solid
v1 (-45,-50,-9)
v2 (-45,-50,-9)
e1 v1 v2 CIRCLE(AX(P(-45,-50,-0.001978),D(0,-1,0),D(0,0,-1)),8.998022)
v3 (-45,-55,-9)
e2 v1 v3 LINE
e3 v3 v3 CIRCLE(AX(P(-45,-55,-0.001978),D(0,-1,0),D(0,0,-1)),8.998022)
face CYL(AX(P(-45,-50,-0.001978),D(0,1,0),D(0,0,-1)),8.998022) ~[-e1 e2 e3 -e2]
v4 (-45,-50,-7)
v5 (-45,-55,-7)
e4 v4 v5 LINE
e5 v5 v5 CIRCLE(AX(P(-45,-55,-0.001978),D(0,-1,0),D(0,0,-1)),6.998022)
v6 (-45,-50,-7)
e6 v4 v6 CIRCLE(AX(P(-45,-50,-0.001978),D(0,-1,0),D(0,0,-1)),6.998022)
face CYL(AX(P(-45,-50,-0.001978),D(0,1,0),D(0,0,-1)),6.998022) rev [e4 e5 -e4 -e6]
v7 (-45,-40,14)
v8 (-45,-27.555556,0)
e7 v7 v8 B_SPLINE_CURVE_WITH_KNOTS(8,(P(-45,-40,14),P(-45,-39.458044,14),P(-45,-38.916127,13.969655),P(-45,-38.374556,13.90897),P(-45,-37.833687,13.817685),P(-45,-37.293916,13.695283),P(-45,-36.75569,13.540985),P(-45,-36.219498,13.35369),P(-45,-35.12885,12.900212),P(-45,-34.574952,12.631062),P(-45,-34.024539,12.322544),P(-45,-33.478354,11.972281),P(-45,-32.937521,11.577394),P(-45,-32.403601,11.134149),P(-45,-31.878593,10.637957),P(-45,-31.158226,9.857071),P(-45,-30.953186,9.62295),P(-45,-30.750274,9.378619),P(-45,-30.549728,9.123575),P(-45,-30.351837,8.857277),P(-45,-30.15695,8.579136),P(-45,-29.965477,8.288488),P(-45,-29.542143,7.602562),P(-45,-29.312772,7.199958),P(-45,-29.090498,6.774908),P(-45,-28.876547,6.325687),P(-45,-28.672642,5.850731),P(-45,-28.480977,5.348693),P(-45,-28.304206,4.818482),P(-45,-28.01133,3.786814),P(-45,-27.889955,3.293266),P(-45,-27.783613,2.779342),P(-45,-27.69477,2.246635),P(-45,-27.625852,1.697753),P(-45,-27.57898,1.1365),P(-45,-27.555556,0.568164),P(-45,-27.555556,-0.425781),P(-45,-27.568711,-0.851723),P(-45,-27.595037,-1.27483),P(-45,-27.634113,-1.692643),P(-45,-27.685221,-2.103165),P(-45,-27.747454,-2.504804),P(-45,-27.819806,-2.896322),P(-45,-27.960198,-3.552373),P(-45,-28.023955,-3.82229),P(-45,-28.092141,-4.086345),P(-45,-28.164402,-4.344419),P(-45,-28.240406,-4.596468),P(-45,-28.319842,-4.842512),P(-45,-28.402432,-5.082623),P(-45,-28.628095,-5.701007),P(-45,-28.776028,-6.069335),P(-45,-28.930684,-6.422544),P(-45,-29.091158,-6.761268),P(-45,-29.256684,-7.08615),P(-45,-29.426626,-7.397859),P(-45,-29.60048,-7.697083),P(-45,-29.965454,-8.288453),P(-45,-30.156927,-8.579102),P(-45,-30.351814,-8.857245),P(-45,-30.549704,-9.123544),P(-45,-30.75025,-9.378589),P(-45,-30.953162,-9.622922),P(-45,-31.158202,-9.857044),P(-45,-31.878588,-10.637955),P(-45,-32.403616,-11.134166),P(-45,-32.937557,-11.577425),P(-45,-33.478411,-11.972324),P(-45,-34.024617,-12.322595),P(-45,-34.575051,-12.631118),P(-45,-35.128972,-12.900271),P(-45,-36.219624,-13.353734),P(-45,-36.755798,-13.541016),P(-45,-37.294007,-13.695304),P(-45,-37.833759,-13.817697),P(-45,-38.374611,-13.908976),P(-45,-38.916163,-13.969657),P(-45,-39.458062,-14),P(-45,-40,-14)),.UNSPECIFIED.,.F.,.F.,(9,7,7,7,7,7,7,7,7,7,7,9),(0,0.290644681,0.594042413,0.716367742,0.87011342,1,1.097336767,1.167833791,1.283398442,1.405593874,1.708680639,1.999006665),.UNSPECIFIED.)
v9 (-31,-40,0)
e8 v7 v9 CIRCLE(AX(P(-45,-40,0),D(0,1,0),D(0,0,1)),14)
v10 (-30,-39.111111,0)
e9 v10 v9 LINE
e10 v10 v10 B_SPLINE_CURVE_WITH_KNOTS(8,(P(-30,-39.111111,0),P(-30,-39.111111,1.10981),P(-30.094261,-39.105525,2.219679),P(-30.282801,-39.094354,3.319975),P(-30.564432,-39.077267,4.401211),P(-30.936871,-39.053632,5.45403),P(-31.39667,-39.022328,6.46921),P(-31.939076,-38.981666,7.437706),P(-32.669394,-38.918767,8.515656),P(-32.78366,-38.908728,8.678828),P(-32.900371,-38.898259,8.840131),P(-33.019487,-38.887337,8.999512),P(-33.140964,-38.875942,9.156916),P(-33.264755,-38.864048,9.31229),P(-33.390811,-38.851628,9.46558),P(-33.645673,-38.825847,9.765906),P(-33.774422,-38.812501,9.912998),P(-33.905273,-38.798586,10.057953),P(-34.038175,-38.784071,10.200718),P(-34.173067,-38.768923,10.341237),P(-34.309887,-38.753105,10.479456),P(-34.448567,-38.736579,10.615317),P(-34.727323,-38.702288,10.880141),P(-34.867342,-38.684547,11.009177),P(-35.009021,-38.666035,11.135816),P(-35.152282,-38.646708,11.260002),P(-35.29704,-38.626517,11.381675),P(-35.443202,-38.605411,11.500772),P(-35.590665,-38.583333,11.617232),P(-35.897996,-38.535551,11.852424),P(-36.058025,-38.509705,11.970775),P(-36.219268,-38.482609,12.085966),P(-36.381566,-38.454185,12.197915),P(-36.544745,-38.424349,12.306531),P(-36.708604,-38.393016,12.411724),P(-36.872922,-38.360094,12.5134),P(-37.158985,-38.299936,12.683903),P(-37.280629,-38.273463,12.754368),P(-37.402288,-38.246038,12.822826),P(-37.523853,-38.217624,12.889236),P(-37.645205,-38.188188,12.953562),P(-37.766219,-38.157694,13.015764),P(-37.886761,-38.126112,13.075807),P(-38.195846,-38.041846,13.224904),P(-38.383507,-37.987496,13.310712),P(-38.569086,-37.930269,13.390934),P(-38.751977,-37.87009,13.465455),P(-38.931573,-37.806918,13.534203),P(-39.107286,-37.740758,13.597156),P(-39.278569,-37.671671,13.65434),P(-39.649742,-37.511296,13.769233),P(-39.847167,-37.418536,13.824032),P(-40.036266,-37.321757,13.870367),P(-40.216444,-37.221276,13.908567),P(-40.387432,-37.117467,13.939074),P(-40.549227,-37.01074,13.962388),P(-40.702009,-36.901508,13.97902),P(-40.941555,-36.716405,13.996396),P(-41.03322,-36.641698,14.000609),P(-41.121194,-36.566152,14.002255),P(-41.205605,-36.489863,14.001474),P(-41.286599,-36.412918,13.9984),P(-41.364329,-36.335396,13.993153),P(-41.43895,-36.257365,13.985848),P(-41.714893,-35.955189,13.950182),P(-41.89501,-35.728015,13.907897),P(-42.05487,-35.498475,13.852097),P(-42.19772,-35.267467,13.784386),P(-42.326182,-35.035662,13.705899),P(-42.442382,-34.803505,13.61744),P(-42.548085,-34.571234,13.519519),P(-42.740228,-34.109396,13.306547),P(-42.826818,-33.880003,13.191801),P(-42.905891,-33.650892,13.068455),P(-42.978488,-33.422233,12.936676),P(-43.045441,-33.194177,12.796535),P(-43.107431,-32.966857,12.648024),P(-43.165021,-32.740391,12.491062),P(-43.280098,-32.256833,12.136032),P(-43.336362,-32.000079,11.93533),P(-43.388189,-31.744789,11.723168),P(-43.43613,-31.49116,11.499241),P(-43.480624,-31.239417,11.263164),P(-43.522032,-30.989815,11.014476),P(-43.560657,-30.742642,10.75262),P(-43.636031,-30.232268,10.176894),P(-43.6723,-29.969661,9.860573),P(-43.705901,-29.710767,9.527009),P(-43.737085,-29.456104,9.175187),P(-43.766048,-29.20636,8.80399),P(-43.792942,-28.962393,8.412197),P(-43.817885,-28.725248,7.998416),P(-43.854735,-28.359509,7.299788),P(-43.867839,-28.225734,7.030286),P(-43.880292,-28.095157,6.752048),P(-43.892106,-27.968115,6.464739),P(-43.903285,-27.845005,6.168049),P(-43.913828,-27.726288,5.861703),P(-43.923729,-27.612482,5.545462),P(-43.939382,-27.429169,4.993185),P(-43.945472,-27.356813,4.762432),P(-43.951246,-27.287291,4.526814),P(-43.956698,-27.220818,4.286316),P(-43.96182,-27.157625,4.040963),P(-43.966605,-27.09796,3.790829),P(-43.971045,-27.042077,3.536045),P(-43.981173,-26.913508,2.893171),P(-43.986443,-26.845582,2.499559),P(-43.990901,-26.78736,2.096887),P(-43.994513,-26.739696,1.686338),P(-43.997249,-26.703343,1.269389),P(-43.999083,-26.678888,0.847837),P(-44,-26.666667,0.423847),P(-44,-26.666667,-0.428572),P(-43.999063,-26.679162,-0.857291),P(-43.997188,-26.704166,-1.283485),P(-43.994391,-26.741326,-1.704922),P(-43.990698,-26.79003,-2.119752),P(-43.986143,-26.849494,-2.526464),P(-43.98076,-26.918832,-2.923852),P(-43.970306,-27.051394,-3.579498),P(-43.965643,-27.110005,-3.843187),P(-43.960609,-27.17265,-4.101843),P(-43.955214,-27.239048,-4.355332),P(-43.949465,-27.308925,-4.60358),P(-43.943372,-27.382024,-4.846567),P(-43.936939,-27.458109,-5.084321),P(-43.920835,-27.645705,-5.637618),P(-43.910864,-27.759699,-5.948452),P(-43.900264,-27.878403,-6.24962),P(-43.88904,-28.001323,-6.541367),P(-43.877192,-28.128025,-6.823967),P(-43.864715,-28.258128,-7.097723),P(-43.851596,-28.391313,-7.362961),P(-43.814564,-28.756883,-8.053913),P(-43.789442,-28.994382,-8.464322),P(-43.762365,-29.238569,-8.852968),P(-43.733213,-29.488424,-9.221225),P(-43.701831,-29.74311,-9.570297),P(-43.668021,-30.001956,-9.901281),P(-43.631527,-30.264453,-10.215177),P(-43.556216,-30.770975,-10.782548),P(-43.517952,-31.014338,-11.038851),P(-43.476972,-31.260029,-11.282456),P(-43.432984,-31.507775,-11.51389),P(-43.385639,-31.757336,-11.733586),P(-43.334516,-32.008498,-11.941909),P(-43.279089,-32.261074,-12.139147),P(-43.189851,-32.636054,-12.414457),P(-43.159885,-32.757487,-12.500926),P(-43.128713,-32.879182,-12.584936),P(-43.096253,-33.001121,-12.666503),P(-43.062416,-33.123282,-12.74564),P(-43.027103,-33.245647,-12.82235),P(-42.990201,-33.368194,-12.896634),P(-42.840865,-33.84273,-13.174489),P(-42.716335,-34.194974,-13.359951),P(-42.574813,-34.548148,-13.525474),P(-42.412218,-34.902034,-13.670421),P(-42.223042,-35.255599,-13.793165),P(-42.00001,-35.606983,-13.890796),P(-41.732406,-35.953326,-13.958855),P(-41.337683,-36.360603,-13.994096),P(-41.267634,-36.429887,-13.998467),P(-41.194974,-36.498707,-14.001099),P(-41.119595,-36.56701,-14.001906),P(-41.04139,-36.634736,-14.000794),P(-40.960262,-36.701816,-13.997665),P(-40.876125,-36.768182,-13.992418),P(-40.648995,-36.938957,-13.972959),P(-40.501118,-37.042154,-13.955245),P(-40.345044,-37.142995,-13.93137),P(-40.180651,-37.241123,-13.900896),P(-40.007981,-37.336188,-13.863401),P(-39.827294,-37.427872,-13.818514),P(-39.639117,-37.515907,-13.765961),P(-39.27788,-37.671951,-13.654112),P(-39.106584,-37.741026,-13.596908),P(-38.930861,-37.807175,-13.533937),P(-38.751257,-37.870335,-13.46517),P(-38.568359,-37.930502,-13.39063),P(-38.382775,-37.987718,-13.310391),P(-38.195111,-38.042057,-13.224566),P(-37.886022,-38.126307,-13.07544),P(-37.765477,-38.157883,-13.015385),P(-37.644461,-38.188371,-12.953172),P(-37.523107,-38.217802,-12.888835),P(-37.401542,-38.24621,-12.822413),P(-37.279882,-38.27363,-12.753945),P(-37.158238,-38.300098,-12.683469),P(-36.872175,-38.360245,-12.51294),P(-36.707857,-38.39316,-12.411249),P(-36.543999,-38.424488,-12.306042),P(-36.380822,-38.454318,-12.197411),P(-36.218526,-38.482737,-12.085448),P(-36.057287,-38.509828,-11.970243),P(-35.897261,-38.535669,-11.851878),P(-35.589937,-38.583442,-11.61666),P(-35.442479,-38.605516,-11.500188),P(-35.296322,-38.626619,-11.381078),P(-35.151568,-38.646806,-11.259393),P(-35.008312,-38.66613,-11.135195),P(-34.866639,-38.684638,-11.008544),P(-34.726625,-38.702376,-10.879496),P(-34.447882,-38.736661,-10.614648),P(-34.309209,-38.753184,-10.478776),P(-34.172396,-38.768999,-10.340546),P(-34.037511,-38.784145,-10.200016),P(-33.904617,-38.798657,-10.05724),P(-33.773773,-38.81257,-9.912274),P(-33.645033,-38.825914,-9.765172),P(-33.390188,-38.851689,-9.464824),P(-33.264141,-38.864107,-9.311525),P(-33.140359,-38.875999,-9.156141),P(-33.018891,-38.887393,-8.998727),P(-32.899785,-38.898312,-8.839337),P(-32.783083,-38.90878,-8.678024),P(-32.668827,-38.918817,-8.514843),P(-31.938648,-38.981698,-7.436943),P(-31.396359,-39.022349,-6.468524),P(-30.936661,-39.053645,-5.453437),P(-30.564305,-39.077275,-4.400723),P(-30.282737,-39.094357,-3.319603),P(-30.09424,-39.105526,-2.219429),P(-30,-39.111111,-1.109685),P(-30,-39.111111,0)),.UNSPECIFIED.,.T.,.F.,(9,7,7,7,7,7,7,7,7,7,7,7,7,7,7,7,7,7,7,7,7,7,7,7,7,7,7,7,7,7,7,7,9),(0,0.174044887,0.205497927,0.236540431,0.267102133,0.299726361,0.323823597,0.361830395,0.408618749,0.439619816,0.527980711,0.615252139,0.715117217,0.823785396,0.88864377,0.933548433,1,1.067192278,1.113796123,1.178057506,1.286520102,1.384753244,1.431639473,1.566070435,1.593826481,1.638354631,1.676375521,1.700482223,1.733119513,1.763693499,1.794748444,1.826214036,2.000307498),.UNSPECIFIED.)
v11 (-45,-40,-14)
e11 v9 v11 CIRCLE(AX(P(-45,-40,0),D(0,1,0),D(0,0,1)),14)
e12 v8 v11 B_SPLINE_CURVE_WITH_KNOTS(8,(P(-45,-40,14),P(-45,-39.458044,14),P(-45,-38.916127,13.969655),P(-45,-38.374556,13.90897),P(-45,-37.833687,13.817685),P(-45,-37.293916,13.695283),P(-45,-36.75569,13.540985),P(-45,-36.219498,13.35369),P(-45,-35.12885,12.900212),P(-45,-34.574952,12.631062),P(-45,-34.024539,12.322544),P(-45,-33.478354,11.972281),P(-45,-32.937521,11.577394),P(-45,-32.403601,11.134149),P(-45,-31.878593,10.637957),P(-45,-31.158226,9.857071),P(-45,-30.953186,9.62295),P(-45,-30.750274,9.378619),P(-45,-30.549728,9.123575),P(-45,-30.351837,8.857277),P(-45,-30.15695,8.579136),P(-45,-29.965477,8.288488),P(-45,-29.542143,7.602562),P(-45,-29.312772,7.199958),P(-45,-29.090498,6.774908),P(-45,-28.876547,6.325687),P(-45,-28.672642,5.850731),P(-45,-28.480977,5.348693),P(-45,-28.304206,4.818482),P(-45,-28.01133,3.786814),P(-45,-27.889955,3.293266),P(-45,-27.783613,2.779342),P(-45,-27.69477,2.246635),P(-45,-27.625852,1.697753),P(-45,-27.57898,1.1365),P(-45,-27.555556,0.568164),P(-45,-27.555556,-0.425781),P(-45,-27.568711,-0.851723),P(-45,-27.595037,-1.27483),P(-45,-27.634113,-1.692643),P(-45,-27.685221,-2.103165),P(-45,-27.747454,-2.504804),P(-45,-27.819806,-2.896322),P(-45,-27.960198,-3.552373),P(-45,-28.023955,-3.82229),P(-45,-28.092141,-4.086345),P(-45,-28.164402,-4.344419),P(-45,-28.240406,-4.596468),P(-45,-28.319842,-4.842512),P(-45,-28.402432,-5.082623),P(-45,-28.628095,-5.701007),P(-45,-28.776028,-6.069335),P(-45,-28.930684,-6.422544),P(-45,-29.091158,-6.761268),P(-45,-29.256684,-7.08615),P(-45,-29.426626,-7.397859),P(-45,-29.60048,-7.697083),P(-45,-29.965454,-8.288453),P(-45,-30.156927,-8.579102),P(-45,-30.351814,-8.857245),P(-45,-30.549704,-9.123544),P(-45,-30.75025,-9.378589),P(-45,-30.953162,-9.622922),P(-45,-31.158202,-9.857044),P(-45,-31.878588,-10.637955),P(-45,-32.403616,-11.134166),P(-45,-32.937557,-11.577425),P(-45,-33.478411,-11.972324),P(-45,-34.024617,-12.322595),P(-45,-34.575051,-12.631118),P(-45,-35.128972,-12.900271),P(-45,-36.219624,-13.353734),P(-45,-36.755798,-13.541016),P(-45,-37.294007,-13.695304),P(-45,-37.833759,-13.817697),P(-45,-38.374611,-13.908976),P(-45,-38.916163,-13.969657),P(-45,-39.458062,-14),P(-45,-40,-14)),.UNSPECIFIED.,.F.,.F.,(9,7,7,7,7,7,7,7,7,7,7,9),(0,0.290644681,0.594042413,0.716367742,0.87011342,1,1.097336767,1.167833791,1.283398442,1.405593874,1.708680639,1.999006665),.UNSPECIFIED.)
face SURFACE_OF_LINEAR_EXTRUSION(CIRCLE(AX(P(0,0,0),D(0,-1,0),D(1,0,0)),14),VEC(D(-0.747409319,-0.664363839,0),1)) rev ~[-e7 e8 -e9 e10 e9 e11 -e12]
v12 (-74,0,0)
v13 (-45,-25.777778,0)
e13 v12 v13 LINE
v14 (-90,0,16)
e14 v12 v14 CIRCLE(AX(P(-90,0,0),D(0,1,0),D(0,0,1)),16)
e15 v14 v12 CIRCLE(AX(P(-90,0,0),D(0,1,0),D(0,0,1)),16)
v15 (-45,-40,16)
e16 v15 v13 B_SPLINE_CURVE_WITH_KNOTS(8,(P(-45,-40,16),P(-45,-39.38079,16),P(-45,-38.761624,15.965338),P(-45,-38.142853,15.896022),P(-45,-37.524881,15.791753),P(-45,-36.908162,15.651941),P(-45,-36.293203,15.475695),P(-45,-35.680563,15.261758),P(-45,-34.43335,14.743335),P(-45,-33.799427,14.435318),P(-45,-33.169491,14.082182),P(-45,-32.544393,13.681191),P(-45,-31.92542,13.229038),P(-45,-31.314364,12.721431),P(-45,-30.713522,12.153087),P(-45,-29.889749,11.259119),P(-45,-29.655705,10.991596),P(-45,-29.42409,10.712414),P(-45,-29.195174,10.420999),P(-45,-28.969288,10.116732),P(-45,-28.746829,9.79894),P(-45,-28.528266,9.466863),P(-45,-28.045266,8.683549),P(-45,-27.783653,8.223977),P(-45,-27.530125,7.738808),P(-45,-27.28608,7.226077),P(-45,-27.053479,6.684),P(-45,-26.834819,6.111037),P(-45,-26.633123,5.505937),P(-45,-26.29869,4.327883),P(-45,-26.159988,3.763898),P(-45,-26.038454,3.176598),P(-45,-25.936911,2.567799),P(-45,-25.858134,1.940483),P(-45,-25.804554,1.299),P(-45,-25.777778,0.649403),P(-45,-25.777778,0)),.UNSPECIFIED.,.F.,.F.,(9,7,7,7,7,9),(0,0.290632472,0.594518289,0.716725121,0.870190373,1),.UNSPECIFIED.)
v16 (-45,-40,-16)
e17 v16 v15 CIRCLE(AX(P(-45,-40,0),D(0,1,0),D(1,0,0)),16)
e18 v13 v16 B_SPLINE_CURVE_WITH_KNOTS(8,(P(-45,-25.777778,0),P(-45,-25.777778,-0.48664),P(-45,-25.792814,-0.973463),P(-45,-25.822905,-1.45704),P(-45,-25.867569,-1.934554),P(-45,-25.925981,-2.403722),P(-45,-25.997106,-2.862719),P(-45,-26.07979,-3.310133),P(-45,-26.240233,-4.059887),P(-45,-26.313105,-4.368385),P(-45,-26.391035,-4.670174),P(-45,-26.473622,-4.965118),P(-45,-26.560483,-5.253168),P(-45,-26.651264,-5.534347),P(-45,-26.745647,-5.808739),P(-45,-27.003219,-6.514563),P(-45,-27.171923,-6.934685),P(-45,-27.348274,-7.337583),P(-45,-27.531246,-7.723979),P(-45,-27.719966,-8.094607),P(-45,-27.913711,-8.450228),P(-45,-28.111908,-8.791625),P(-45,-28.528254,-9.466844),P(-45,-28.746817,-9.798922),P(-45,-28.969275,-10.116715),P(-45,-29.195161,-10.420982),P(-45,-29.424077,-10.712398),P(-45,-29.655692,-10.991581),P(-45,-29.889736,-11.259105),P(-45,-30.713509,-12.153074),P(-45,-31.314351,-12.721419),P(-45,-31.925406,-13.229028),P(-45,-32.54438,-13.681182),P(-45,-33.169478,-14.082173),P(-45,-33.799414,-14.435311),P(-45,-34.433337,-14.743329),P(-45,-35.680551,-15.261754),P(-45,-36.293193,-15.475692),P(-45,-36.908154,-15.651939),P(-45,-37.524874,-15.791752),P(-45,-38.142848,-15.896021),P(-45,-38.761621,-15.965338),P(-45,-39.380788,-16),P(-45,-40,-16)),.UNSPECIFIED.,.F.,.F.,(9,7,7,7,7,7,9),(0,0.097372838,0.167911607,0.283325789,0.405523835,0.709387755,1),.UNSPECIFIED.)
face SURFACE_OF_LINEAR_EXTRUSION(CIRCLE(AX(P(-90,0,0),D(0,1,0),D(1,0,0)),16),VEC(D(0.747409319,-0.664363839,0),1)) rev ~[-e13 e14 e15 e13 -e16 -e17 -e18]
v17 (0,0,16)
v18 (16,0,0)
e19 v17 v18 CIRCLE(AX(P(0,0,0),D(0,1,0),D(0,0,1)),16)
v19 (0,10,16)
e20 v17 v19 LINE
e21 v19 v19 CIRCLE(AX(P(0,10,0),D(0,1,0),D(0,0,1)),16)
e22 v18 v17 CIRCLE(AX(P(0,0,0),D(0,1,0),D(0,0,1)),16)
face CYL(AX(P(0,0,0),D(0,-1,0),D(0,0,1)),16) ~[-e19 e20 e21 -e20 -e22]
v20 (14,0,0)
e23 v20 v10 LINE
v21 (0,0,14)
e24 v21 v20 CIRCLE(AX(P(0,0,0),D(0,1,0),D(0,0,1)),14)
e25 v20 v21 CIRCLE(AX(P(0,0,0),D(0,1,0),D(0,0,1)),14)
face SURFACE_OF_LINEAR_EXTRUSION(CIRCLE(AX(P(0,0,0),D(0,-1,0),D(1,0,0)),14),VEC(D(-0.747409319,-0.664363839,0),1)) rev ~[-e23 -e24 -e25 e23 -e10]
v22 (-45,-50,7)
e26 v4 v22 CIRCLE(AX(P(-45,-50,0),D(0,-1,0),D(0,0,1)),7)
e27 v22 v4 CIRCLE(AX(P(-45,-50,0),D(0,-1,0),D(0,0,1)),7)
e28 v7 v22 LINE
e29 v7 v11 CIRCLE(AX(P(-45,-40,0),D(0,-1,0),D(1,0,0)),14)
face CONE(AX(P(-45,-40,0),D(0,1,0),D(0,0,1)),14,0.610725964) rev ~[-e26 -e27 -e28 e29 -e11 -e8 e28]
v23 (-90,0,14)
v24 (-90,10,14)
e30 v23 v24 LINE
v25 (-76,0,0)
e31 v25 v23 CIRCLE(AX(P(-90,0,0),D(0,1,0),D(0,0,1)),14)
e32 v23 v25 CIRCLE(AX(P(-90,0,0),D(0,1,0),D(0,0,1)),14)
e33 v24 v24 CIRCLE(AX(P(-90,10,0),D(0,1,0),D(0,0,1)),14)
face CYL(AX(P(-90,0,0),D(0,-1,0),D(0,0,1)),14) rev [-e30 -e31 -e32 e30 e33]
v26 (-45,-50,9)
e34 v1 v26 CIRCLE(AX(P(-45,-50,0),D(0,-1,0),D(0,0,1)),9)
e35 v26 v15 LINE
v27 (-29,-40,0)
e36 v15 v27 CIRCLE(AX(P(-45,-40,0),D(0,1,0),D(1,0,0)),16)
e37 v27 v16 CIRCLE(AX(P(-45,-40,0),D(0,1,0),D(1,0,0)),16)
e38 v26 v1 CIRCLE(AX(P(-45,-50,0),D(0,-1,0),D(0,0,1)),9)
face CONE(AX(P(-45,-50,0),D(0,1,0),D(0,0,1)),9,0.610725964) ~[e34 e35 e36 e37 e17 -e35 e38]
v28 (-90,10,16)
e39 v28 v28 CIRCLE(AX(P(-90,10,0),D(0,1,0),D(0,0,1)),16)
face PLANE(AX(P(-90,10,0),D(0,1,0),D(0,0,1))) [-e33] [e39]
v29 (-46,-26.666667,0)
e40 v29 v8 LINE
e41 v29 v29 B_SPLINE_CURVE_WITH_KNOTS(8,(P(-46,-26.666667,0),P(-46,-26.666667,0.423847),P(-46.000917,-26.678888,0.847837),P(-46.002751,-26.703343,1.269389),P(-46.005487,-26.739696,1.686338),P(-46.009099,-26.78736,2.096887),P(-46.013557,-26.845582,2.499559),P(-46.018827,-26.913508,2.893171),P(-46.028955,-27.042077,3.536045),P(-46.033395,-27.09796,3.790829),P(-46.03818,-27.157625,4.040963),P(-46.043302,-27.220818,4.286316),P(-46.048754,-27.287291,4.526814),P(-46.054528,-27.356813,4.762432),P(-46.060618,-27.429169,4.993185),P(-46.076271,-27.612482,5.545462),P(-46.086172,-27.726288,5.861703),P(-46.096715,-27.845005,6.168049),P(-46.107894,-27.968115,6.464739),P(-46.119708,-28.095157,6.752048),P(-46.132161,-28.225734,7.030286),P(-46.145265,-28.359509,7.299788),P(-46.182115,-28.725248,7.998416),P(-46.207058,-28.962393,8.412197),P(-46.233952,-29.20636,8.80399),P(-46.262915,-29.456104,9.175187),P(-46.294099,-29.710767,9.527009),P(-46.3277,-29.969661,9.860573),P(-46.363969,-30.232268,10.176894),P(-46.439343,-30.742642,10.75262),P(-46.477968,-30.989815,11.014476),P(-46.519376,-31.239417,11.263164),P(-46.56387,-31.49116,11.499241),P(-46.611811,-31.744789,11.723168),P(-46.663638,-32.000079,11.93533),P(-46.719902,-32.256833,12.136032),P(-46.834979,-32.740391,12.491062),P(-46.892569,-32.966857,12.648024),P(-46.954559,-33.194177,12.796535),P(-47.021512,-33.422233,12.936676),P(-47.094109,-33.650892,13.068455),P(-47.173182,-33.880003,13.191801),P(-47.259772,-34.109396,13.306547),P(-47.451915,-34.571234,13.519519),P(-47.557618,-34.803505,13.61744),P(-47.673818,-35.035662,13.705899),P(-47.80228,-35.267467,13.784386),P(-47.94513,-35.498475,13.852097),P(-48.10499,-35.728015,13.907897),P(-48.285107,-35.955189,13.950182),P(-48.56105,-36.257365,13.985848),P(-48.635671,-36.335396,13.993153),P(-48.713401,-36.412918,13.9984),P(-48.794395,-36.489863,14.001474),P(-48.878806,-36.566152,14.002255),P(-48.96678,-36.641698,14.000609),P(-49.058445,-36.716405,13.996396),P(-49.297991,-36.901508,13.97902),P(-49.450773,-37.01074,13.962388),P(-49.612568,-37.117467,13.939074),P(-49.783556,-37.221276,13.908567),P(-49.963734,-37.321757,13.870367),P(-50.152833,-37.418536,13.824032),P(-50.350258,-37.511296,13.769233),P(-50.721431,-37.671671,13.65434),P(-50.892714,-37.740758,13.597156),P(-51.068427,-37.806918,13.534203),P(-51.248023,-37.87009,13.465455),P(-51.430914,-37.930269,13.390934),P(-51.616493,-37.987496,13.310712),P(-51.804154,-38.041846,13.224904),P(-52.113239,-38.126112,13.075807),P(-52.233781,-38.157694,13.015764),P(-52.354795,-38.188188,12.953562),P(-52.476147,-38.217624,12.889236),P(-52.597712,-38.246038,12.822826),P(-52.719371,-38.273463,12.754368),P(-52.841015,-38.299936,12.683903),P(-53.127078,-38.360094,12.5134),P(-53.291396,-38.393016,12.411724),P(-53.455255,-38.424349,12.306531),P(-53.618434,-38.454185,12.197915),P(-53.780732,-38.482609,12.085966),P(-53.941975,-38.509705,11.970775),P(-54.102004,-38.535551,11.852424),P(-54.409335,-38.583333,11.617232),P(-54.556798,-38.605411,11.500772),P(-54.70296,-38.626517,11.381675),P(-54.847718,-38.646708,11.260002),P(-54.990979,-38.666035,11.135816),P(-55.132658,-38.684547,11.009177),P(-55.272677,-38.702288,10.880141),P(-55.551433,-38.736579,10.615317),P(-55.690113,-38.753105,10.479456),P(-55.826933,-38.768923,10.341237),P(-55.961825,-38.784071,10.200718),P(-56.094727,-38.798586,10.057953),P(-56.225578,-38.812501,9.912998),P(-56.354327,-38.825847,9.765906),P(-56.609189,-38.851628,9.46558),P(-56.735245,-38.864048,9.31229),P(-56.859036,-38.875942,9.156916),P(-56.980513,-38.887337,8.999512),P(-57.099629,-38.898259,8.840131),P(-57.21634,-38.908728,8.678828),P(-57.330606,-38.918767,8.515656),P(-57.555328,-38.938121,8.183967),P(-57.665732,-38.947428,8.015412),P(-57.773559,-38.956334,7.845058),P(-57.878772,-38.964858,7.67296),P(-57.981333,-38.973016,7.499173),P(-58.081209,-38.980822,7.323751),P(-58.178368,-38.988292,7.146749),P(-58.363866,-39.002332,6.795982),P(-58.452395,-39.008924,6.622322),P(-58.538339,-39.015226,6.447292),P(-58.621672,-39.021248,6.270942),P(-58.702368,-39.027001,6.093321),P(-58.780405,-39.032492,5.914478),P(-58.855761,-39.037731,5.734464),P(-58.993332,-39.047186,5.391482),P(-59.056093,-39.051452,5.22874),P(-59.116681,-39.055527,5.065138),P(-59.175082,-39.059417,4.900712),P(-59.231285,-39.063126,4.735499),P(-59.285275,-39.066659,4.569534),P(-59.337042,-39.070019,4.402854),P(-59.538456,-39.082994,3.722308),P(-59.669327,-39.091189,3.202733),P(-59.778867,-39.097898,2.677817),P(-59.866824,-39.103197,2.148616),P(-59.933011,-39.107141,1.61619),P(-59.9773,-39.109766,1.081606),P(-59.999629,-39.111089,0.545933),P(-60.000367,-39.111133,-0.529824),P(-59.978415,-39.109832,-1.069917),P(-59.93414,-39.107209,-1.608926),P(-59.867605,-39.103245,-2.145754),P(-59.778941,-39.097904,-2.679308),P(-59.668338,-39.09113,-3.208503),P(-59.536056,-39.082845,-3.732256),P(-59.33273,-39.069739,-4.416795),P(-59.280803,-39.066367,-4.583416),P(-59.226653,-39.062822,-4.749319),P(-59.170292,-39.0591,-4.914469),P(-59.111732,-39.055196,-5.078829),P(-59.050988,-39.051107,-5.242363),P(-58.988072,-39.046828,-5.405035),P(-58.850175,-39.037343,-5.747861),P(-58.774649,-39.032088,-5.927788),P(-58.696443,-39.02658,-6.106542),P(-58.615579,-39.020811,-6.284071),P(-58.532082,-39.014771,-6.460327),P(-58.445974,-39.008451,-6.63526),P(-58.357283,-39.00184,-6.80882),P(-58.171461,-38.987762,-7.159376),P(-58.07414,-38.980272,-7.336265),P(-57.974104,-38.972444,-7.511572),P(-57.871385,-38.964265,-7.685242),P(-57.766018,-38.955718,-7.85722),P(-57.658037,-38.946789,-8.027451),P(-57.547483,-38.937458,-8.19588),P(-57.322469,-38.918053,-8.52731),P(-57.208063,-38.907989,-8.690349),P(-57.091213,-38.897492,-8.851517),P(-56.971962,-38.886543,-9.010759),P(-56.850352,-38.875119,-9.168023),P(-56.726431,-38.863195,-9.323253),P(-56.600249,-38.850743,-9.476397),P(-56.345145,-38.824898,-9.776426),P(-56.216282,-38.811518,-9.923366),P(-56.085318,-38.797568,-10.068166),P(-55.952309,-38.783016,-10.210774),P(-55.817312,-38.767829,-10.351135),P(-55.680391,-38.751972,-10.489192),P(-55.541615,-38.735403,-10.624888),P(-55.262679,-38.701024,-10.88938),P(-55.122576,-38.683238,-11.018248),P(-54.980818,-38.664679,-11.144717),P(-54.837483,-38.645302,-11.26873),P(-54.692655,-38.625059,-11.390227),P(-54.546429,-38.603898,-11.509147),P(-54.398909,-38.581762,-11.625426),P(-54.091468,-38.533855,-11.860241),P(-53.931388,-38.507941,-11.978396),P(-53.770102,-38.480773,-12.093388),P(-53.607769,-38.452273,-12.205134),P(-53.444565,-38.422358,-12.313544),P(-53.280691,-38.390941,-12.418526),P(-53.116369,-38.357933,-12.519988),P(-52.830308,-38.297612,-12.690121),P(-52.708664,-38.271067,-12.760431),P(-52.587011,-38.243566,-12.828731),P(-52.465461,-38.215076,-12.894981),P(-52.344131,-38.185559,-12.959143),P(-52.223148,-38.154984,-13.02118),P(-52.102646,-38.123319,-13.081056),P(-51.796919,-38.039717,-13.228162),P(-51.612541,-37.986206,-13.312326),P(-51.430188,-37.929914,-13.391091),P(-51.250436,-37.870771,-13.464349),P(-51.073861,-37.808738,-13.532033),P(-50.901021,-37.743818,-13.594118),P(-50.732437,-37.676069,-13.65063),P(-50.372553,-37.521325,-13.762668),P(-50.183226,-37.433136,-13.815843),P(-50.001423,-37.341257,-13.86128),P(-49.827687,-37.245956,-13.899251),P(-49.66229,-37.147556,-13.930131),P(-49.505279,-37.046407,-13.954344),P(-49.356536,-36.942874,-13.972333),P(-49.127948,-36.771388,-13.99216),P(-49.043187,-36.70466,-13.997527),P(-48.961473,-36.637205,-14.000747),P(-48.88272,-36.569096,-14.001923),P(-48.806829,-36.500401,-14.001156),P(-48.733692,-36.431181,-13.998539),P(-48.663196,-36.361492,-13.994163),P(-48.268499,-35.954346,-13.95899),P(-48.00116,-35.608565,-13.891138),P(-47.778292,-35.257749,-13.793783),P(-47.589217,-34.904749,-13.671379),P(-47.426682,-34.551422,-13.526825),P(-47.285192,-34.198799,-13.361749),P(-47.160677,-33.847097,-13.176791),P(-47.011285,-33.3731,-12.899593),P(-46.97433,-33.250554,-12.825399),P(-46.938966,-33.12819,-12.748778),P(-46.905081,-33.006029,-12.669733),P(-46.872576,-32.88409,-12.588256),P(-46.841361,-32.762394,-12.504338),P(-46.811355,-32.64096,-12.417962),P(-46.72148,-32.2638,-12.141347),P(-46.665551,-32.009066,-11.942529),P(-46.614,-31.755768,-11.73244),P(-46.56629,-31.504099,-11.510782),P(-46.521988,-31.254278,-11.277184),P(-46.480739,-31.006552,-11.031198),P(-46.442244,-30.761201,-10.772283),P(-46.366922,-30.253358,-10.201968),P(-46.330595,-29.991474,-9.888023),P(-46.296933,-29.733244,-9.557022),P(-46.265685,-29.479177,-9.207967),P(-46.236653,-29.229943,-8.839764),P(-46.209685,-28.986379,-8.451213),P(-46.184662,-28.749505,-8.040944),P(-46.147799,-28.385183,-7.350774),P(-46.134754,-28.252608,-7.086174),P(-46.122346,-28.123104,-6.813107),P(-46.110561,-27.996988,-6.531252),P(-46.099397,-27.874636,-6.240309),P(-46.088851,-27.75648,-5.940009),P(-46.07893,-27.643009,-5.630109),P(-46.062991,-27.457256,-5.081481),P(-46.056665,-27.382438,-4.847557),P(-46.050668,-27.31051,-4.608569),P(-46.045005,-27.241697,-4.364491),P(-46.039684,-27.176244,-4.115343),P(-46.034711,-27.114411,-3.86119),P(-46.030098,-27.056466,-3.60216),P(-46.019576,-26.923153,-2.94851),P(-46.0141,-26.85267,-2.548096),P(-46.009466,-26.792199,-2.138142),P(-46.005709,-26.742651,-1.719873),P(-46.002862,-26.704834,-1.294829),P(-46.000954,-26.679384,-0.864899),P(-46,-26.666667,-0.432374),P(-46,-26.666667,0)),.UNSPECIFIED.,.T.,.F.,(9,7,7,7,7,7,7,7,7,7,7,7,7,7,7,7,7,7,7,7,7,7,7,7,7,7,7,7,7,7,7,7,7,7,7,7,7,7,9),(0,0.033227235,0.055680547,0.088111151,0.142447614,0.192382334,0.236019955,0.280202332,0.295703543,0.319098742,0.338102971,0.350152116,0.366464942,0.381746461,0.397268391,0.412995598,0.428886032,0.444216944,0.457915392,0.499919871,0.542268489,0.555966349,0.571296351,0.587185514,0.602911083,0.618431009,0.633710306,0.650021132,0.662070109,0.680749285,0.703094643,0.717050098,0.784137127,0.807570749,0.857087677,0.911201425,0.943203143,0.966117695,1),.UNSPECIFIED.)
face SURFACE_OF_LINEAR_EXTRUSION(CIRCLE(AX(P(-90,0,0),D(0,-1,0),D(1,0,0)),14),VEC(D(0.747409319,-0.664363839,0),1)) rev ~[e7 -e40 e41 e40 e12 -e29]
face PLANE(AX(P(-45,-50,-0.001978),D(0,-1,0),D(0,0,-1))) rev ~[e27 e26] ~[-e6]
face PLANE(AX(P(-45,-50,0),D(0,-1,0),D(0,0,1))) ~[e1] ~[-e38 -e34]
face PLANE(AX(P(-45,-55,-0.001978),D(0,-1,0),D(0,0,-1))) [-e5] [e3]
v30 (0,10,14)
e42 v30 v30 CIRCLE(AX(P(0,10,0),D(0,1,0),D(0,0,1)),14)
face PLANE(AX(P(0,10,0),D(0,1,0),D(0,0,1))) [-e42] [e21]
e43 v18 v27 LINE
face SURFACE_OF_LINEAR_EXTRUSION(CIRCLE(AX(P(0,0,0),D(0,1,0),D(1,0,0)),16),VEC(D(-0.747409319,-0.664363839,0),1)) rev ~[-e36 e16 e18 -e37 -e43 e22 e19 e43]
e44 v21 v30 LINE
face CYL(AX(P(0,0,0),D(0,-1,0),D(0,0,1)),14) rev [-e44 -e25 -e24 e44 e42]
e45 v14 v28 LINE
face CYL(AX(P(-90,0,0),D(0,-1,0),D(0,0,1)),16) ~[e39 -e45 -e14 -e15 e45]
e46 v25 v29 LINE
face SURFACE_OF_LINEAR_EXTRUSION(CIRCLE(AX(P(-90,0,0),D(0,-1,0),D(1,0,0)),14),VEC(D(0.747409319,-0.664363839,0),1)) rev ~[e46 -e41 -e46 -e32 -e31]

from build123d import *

# Parameters (mm, degrees)
CROQUIS18_R               = 16
CROQUIS18_R_2             = 14
SALIENTE_EXTRUIR3_DEPTH   = 10
SALIENTE_EXTRUIR3_2_DEPTH = 10
CROQUIS21_R               = 16
CROQUIS21_R_2             = 14
CROQUIS23_R               = 16
CROQUIS23_R_2             = 14
CROQUIS25_R               = 14
CROQUIS25_2_R             = 14
CROQUIS31_R               = 8.998021613
CROQUIS31_R_2             = 6.998021613
SALIENTE_EXTRUIR4_DEPTH   = 5


with BuildPart() as part:
    # Croquis18 → Saliente-Extruir3 (new body)
    with BuildSketch(Plane(origin=(0, 0, 0), x_dir=(1, 0, 0), z_dir=(0, 1, 0))):
        with Locations(Location((0, 0, 0), (0, 0, 270))):
            Circle(CROQUIS18_R)
        with Locations(Location((0, 0, 0), (0, 0, 270))):
            Circle(CROQUIS18_R_2, mode=Mode.SUBTRACT)
    extrude(amount=SALIENTE_EXTRUIR3_DEPTH)



with BuildPart() as body_2:
    # Croquis18 → Saliente-Extruir3 2 (new body)
    with BuildSketch(Plane(origin=(0, 0, 0), x_dir=(1, 0, 0), z_dir=(0, 1, 0))):
        with Locations(Location((-90, 0, 0), (0, 0, 270))):
            Circle(CROQUIS18_R)
        with Locations(Location((-90, 0, 0), (0, 0, 270))):
            Circle(CROQUIS18_R_2, mode=Mode.SUBTRACT)
    extrude(amount=SALIENTE_EXTRUIR3_2_DEPTH)

    # Barrer1: sweep along a path in Croquis19
    with BuildLine(Plane.XY) as barrer1_path:
        Line((-90, 0), (-45, -40))
    # Croquis21 → Barrer1 (sweep)
    with BuildSketch(Plane(origin=(0, -40, 0), x_dir=(1, 0, 0), z_dir=(0, 1, 0))):
        with Locations((-45, 0)):
            Circle(CROQUIS21_R)
        with Locations((-45, 0)):
            Circle(CROQUIS21_R_2, mode=Mode.SUBTRACT)
    sweep(path=barrer1_path.line)


with BuildPart() as part_1:
    add(part.part)

    add(body_2.part)  # Barrer2 merges body 2
    # Barrer2: sweep along a path in Croquis20
    with BuildLine(Plane.XY) as barrer2_path:
        Line((0, 0), (-45, -40))
    # Croquis23 → Barrer2 (sweep)
    with BuildSketch(Plane(origin=(0, -40, 0), x_dir=(1, 0, 0), z_dir=(0, 1, 0))):
        with Locations((-45, 0)):
            Circle(CROQUIS23_R)
        with Locations((-45, 0)):
            Circle(CROQUIS23_R_2, mode=Mode.SUBTRACT)
    sweep(path=barrer2_path.line)

    # Cortar-Barrer1: sweep along a path in Croquis20<2>
    with BuildLine(Plane.XY) as cortar_barrer1_path:
        Line((0, 0), (-45, -40))
    # Croquis25 → Cortar-Barrer1 (sweep, cut)
    with BuildSketch(Plane.XZ.offset(40)):
        with Locations((-45, 0)):
            Circle(CROQUIS25_R)
    sweep(path=cortar_barrer1_path.line, mode=Mode.SUBTRACT)

    # Cortar-Barrer2: sweep along a path in Croquis19<2>
    with BuildLine(Plane.XY) as cortar_barrer2_path:
        Line((-90, 0), (-45, -40))
    # Croquis25<2> → Cortar-Barrer2 (sweep, cut)
    with BuildSketch(Plane.XZ.offset(40)):
        with Locations((-45, 0)):
            Circle(CROQUIS25_2_R)
    sweep(path=cortar_barrer2_path.line, mode=Mode.SUBTRACT)

    # Croquis29 → Revolución2 (revolve)
    with BuildSketch(Plane.XY, mode=Mode.PRIVATE) as revoluci_n2_sk:
        Polygon((-61, -40), (-59, -40), (-52, -50), (-54, -50), align=None)
    revolve(revoluci_n2_sk.sketch.rotate(Axis((-45, -40, 0), (0, -1, 0)), 270), axis=Axis((-45, -40, 0), (0, -1, 0)))

    # Croquis31 → Saliente-Extruir4 (add)
    with BuildSketch(Plane.XZ.offset(50)):
        with Locations(Location((-45, -0.001978387, 0), (0, 0, 270))):
            Circle(CROQUIS31_R)
        with Locations(Location((-45, -0.001978387, 0), (0, 0, 270))):
            Circle(CROQUIS31_R_2, mode=Mode.SUBTRACT)
    extrude(amount=SALIENTE_EXTRUIR4_DEPTH)


solid = part_1.part
